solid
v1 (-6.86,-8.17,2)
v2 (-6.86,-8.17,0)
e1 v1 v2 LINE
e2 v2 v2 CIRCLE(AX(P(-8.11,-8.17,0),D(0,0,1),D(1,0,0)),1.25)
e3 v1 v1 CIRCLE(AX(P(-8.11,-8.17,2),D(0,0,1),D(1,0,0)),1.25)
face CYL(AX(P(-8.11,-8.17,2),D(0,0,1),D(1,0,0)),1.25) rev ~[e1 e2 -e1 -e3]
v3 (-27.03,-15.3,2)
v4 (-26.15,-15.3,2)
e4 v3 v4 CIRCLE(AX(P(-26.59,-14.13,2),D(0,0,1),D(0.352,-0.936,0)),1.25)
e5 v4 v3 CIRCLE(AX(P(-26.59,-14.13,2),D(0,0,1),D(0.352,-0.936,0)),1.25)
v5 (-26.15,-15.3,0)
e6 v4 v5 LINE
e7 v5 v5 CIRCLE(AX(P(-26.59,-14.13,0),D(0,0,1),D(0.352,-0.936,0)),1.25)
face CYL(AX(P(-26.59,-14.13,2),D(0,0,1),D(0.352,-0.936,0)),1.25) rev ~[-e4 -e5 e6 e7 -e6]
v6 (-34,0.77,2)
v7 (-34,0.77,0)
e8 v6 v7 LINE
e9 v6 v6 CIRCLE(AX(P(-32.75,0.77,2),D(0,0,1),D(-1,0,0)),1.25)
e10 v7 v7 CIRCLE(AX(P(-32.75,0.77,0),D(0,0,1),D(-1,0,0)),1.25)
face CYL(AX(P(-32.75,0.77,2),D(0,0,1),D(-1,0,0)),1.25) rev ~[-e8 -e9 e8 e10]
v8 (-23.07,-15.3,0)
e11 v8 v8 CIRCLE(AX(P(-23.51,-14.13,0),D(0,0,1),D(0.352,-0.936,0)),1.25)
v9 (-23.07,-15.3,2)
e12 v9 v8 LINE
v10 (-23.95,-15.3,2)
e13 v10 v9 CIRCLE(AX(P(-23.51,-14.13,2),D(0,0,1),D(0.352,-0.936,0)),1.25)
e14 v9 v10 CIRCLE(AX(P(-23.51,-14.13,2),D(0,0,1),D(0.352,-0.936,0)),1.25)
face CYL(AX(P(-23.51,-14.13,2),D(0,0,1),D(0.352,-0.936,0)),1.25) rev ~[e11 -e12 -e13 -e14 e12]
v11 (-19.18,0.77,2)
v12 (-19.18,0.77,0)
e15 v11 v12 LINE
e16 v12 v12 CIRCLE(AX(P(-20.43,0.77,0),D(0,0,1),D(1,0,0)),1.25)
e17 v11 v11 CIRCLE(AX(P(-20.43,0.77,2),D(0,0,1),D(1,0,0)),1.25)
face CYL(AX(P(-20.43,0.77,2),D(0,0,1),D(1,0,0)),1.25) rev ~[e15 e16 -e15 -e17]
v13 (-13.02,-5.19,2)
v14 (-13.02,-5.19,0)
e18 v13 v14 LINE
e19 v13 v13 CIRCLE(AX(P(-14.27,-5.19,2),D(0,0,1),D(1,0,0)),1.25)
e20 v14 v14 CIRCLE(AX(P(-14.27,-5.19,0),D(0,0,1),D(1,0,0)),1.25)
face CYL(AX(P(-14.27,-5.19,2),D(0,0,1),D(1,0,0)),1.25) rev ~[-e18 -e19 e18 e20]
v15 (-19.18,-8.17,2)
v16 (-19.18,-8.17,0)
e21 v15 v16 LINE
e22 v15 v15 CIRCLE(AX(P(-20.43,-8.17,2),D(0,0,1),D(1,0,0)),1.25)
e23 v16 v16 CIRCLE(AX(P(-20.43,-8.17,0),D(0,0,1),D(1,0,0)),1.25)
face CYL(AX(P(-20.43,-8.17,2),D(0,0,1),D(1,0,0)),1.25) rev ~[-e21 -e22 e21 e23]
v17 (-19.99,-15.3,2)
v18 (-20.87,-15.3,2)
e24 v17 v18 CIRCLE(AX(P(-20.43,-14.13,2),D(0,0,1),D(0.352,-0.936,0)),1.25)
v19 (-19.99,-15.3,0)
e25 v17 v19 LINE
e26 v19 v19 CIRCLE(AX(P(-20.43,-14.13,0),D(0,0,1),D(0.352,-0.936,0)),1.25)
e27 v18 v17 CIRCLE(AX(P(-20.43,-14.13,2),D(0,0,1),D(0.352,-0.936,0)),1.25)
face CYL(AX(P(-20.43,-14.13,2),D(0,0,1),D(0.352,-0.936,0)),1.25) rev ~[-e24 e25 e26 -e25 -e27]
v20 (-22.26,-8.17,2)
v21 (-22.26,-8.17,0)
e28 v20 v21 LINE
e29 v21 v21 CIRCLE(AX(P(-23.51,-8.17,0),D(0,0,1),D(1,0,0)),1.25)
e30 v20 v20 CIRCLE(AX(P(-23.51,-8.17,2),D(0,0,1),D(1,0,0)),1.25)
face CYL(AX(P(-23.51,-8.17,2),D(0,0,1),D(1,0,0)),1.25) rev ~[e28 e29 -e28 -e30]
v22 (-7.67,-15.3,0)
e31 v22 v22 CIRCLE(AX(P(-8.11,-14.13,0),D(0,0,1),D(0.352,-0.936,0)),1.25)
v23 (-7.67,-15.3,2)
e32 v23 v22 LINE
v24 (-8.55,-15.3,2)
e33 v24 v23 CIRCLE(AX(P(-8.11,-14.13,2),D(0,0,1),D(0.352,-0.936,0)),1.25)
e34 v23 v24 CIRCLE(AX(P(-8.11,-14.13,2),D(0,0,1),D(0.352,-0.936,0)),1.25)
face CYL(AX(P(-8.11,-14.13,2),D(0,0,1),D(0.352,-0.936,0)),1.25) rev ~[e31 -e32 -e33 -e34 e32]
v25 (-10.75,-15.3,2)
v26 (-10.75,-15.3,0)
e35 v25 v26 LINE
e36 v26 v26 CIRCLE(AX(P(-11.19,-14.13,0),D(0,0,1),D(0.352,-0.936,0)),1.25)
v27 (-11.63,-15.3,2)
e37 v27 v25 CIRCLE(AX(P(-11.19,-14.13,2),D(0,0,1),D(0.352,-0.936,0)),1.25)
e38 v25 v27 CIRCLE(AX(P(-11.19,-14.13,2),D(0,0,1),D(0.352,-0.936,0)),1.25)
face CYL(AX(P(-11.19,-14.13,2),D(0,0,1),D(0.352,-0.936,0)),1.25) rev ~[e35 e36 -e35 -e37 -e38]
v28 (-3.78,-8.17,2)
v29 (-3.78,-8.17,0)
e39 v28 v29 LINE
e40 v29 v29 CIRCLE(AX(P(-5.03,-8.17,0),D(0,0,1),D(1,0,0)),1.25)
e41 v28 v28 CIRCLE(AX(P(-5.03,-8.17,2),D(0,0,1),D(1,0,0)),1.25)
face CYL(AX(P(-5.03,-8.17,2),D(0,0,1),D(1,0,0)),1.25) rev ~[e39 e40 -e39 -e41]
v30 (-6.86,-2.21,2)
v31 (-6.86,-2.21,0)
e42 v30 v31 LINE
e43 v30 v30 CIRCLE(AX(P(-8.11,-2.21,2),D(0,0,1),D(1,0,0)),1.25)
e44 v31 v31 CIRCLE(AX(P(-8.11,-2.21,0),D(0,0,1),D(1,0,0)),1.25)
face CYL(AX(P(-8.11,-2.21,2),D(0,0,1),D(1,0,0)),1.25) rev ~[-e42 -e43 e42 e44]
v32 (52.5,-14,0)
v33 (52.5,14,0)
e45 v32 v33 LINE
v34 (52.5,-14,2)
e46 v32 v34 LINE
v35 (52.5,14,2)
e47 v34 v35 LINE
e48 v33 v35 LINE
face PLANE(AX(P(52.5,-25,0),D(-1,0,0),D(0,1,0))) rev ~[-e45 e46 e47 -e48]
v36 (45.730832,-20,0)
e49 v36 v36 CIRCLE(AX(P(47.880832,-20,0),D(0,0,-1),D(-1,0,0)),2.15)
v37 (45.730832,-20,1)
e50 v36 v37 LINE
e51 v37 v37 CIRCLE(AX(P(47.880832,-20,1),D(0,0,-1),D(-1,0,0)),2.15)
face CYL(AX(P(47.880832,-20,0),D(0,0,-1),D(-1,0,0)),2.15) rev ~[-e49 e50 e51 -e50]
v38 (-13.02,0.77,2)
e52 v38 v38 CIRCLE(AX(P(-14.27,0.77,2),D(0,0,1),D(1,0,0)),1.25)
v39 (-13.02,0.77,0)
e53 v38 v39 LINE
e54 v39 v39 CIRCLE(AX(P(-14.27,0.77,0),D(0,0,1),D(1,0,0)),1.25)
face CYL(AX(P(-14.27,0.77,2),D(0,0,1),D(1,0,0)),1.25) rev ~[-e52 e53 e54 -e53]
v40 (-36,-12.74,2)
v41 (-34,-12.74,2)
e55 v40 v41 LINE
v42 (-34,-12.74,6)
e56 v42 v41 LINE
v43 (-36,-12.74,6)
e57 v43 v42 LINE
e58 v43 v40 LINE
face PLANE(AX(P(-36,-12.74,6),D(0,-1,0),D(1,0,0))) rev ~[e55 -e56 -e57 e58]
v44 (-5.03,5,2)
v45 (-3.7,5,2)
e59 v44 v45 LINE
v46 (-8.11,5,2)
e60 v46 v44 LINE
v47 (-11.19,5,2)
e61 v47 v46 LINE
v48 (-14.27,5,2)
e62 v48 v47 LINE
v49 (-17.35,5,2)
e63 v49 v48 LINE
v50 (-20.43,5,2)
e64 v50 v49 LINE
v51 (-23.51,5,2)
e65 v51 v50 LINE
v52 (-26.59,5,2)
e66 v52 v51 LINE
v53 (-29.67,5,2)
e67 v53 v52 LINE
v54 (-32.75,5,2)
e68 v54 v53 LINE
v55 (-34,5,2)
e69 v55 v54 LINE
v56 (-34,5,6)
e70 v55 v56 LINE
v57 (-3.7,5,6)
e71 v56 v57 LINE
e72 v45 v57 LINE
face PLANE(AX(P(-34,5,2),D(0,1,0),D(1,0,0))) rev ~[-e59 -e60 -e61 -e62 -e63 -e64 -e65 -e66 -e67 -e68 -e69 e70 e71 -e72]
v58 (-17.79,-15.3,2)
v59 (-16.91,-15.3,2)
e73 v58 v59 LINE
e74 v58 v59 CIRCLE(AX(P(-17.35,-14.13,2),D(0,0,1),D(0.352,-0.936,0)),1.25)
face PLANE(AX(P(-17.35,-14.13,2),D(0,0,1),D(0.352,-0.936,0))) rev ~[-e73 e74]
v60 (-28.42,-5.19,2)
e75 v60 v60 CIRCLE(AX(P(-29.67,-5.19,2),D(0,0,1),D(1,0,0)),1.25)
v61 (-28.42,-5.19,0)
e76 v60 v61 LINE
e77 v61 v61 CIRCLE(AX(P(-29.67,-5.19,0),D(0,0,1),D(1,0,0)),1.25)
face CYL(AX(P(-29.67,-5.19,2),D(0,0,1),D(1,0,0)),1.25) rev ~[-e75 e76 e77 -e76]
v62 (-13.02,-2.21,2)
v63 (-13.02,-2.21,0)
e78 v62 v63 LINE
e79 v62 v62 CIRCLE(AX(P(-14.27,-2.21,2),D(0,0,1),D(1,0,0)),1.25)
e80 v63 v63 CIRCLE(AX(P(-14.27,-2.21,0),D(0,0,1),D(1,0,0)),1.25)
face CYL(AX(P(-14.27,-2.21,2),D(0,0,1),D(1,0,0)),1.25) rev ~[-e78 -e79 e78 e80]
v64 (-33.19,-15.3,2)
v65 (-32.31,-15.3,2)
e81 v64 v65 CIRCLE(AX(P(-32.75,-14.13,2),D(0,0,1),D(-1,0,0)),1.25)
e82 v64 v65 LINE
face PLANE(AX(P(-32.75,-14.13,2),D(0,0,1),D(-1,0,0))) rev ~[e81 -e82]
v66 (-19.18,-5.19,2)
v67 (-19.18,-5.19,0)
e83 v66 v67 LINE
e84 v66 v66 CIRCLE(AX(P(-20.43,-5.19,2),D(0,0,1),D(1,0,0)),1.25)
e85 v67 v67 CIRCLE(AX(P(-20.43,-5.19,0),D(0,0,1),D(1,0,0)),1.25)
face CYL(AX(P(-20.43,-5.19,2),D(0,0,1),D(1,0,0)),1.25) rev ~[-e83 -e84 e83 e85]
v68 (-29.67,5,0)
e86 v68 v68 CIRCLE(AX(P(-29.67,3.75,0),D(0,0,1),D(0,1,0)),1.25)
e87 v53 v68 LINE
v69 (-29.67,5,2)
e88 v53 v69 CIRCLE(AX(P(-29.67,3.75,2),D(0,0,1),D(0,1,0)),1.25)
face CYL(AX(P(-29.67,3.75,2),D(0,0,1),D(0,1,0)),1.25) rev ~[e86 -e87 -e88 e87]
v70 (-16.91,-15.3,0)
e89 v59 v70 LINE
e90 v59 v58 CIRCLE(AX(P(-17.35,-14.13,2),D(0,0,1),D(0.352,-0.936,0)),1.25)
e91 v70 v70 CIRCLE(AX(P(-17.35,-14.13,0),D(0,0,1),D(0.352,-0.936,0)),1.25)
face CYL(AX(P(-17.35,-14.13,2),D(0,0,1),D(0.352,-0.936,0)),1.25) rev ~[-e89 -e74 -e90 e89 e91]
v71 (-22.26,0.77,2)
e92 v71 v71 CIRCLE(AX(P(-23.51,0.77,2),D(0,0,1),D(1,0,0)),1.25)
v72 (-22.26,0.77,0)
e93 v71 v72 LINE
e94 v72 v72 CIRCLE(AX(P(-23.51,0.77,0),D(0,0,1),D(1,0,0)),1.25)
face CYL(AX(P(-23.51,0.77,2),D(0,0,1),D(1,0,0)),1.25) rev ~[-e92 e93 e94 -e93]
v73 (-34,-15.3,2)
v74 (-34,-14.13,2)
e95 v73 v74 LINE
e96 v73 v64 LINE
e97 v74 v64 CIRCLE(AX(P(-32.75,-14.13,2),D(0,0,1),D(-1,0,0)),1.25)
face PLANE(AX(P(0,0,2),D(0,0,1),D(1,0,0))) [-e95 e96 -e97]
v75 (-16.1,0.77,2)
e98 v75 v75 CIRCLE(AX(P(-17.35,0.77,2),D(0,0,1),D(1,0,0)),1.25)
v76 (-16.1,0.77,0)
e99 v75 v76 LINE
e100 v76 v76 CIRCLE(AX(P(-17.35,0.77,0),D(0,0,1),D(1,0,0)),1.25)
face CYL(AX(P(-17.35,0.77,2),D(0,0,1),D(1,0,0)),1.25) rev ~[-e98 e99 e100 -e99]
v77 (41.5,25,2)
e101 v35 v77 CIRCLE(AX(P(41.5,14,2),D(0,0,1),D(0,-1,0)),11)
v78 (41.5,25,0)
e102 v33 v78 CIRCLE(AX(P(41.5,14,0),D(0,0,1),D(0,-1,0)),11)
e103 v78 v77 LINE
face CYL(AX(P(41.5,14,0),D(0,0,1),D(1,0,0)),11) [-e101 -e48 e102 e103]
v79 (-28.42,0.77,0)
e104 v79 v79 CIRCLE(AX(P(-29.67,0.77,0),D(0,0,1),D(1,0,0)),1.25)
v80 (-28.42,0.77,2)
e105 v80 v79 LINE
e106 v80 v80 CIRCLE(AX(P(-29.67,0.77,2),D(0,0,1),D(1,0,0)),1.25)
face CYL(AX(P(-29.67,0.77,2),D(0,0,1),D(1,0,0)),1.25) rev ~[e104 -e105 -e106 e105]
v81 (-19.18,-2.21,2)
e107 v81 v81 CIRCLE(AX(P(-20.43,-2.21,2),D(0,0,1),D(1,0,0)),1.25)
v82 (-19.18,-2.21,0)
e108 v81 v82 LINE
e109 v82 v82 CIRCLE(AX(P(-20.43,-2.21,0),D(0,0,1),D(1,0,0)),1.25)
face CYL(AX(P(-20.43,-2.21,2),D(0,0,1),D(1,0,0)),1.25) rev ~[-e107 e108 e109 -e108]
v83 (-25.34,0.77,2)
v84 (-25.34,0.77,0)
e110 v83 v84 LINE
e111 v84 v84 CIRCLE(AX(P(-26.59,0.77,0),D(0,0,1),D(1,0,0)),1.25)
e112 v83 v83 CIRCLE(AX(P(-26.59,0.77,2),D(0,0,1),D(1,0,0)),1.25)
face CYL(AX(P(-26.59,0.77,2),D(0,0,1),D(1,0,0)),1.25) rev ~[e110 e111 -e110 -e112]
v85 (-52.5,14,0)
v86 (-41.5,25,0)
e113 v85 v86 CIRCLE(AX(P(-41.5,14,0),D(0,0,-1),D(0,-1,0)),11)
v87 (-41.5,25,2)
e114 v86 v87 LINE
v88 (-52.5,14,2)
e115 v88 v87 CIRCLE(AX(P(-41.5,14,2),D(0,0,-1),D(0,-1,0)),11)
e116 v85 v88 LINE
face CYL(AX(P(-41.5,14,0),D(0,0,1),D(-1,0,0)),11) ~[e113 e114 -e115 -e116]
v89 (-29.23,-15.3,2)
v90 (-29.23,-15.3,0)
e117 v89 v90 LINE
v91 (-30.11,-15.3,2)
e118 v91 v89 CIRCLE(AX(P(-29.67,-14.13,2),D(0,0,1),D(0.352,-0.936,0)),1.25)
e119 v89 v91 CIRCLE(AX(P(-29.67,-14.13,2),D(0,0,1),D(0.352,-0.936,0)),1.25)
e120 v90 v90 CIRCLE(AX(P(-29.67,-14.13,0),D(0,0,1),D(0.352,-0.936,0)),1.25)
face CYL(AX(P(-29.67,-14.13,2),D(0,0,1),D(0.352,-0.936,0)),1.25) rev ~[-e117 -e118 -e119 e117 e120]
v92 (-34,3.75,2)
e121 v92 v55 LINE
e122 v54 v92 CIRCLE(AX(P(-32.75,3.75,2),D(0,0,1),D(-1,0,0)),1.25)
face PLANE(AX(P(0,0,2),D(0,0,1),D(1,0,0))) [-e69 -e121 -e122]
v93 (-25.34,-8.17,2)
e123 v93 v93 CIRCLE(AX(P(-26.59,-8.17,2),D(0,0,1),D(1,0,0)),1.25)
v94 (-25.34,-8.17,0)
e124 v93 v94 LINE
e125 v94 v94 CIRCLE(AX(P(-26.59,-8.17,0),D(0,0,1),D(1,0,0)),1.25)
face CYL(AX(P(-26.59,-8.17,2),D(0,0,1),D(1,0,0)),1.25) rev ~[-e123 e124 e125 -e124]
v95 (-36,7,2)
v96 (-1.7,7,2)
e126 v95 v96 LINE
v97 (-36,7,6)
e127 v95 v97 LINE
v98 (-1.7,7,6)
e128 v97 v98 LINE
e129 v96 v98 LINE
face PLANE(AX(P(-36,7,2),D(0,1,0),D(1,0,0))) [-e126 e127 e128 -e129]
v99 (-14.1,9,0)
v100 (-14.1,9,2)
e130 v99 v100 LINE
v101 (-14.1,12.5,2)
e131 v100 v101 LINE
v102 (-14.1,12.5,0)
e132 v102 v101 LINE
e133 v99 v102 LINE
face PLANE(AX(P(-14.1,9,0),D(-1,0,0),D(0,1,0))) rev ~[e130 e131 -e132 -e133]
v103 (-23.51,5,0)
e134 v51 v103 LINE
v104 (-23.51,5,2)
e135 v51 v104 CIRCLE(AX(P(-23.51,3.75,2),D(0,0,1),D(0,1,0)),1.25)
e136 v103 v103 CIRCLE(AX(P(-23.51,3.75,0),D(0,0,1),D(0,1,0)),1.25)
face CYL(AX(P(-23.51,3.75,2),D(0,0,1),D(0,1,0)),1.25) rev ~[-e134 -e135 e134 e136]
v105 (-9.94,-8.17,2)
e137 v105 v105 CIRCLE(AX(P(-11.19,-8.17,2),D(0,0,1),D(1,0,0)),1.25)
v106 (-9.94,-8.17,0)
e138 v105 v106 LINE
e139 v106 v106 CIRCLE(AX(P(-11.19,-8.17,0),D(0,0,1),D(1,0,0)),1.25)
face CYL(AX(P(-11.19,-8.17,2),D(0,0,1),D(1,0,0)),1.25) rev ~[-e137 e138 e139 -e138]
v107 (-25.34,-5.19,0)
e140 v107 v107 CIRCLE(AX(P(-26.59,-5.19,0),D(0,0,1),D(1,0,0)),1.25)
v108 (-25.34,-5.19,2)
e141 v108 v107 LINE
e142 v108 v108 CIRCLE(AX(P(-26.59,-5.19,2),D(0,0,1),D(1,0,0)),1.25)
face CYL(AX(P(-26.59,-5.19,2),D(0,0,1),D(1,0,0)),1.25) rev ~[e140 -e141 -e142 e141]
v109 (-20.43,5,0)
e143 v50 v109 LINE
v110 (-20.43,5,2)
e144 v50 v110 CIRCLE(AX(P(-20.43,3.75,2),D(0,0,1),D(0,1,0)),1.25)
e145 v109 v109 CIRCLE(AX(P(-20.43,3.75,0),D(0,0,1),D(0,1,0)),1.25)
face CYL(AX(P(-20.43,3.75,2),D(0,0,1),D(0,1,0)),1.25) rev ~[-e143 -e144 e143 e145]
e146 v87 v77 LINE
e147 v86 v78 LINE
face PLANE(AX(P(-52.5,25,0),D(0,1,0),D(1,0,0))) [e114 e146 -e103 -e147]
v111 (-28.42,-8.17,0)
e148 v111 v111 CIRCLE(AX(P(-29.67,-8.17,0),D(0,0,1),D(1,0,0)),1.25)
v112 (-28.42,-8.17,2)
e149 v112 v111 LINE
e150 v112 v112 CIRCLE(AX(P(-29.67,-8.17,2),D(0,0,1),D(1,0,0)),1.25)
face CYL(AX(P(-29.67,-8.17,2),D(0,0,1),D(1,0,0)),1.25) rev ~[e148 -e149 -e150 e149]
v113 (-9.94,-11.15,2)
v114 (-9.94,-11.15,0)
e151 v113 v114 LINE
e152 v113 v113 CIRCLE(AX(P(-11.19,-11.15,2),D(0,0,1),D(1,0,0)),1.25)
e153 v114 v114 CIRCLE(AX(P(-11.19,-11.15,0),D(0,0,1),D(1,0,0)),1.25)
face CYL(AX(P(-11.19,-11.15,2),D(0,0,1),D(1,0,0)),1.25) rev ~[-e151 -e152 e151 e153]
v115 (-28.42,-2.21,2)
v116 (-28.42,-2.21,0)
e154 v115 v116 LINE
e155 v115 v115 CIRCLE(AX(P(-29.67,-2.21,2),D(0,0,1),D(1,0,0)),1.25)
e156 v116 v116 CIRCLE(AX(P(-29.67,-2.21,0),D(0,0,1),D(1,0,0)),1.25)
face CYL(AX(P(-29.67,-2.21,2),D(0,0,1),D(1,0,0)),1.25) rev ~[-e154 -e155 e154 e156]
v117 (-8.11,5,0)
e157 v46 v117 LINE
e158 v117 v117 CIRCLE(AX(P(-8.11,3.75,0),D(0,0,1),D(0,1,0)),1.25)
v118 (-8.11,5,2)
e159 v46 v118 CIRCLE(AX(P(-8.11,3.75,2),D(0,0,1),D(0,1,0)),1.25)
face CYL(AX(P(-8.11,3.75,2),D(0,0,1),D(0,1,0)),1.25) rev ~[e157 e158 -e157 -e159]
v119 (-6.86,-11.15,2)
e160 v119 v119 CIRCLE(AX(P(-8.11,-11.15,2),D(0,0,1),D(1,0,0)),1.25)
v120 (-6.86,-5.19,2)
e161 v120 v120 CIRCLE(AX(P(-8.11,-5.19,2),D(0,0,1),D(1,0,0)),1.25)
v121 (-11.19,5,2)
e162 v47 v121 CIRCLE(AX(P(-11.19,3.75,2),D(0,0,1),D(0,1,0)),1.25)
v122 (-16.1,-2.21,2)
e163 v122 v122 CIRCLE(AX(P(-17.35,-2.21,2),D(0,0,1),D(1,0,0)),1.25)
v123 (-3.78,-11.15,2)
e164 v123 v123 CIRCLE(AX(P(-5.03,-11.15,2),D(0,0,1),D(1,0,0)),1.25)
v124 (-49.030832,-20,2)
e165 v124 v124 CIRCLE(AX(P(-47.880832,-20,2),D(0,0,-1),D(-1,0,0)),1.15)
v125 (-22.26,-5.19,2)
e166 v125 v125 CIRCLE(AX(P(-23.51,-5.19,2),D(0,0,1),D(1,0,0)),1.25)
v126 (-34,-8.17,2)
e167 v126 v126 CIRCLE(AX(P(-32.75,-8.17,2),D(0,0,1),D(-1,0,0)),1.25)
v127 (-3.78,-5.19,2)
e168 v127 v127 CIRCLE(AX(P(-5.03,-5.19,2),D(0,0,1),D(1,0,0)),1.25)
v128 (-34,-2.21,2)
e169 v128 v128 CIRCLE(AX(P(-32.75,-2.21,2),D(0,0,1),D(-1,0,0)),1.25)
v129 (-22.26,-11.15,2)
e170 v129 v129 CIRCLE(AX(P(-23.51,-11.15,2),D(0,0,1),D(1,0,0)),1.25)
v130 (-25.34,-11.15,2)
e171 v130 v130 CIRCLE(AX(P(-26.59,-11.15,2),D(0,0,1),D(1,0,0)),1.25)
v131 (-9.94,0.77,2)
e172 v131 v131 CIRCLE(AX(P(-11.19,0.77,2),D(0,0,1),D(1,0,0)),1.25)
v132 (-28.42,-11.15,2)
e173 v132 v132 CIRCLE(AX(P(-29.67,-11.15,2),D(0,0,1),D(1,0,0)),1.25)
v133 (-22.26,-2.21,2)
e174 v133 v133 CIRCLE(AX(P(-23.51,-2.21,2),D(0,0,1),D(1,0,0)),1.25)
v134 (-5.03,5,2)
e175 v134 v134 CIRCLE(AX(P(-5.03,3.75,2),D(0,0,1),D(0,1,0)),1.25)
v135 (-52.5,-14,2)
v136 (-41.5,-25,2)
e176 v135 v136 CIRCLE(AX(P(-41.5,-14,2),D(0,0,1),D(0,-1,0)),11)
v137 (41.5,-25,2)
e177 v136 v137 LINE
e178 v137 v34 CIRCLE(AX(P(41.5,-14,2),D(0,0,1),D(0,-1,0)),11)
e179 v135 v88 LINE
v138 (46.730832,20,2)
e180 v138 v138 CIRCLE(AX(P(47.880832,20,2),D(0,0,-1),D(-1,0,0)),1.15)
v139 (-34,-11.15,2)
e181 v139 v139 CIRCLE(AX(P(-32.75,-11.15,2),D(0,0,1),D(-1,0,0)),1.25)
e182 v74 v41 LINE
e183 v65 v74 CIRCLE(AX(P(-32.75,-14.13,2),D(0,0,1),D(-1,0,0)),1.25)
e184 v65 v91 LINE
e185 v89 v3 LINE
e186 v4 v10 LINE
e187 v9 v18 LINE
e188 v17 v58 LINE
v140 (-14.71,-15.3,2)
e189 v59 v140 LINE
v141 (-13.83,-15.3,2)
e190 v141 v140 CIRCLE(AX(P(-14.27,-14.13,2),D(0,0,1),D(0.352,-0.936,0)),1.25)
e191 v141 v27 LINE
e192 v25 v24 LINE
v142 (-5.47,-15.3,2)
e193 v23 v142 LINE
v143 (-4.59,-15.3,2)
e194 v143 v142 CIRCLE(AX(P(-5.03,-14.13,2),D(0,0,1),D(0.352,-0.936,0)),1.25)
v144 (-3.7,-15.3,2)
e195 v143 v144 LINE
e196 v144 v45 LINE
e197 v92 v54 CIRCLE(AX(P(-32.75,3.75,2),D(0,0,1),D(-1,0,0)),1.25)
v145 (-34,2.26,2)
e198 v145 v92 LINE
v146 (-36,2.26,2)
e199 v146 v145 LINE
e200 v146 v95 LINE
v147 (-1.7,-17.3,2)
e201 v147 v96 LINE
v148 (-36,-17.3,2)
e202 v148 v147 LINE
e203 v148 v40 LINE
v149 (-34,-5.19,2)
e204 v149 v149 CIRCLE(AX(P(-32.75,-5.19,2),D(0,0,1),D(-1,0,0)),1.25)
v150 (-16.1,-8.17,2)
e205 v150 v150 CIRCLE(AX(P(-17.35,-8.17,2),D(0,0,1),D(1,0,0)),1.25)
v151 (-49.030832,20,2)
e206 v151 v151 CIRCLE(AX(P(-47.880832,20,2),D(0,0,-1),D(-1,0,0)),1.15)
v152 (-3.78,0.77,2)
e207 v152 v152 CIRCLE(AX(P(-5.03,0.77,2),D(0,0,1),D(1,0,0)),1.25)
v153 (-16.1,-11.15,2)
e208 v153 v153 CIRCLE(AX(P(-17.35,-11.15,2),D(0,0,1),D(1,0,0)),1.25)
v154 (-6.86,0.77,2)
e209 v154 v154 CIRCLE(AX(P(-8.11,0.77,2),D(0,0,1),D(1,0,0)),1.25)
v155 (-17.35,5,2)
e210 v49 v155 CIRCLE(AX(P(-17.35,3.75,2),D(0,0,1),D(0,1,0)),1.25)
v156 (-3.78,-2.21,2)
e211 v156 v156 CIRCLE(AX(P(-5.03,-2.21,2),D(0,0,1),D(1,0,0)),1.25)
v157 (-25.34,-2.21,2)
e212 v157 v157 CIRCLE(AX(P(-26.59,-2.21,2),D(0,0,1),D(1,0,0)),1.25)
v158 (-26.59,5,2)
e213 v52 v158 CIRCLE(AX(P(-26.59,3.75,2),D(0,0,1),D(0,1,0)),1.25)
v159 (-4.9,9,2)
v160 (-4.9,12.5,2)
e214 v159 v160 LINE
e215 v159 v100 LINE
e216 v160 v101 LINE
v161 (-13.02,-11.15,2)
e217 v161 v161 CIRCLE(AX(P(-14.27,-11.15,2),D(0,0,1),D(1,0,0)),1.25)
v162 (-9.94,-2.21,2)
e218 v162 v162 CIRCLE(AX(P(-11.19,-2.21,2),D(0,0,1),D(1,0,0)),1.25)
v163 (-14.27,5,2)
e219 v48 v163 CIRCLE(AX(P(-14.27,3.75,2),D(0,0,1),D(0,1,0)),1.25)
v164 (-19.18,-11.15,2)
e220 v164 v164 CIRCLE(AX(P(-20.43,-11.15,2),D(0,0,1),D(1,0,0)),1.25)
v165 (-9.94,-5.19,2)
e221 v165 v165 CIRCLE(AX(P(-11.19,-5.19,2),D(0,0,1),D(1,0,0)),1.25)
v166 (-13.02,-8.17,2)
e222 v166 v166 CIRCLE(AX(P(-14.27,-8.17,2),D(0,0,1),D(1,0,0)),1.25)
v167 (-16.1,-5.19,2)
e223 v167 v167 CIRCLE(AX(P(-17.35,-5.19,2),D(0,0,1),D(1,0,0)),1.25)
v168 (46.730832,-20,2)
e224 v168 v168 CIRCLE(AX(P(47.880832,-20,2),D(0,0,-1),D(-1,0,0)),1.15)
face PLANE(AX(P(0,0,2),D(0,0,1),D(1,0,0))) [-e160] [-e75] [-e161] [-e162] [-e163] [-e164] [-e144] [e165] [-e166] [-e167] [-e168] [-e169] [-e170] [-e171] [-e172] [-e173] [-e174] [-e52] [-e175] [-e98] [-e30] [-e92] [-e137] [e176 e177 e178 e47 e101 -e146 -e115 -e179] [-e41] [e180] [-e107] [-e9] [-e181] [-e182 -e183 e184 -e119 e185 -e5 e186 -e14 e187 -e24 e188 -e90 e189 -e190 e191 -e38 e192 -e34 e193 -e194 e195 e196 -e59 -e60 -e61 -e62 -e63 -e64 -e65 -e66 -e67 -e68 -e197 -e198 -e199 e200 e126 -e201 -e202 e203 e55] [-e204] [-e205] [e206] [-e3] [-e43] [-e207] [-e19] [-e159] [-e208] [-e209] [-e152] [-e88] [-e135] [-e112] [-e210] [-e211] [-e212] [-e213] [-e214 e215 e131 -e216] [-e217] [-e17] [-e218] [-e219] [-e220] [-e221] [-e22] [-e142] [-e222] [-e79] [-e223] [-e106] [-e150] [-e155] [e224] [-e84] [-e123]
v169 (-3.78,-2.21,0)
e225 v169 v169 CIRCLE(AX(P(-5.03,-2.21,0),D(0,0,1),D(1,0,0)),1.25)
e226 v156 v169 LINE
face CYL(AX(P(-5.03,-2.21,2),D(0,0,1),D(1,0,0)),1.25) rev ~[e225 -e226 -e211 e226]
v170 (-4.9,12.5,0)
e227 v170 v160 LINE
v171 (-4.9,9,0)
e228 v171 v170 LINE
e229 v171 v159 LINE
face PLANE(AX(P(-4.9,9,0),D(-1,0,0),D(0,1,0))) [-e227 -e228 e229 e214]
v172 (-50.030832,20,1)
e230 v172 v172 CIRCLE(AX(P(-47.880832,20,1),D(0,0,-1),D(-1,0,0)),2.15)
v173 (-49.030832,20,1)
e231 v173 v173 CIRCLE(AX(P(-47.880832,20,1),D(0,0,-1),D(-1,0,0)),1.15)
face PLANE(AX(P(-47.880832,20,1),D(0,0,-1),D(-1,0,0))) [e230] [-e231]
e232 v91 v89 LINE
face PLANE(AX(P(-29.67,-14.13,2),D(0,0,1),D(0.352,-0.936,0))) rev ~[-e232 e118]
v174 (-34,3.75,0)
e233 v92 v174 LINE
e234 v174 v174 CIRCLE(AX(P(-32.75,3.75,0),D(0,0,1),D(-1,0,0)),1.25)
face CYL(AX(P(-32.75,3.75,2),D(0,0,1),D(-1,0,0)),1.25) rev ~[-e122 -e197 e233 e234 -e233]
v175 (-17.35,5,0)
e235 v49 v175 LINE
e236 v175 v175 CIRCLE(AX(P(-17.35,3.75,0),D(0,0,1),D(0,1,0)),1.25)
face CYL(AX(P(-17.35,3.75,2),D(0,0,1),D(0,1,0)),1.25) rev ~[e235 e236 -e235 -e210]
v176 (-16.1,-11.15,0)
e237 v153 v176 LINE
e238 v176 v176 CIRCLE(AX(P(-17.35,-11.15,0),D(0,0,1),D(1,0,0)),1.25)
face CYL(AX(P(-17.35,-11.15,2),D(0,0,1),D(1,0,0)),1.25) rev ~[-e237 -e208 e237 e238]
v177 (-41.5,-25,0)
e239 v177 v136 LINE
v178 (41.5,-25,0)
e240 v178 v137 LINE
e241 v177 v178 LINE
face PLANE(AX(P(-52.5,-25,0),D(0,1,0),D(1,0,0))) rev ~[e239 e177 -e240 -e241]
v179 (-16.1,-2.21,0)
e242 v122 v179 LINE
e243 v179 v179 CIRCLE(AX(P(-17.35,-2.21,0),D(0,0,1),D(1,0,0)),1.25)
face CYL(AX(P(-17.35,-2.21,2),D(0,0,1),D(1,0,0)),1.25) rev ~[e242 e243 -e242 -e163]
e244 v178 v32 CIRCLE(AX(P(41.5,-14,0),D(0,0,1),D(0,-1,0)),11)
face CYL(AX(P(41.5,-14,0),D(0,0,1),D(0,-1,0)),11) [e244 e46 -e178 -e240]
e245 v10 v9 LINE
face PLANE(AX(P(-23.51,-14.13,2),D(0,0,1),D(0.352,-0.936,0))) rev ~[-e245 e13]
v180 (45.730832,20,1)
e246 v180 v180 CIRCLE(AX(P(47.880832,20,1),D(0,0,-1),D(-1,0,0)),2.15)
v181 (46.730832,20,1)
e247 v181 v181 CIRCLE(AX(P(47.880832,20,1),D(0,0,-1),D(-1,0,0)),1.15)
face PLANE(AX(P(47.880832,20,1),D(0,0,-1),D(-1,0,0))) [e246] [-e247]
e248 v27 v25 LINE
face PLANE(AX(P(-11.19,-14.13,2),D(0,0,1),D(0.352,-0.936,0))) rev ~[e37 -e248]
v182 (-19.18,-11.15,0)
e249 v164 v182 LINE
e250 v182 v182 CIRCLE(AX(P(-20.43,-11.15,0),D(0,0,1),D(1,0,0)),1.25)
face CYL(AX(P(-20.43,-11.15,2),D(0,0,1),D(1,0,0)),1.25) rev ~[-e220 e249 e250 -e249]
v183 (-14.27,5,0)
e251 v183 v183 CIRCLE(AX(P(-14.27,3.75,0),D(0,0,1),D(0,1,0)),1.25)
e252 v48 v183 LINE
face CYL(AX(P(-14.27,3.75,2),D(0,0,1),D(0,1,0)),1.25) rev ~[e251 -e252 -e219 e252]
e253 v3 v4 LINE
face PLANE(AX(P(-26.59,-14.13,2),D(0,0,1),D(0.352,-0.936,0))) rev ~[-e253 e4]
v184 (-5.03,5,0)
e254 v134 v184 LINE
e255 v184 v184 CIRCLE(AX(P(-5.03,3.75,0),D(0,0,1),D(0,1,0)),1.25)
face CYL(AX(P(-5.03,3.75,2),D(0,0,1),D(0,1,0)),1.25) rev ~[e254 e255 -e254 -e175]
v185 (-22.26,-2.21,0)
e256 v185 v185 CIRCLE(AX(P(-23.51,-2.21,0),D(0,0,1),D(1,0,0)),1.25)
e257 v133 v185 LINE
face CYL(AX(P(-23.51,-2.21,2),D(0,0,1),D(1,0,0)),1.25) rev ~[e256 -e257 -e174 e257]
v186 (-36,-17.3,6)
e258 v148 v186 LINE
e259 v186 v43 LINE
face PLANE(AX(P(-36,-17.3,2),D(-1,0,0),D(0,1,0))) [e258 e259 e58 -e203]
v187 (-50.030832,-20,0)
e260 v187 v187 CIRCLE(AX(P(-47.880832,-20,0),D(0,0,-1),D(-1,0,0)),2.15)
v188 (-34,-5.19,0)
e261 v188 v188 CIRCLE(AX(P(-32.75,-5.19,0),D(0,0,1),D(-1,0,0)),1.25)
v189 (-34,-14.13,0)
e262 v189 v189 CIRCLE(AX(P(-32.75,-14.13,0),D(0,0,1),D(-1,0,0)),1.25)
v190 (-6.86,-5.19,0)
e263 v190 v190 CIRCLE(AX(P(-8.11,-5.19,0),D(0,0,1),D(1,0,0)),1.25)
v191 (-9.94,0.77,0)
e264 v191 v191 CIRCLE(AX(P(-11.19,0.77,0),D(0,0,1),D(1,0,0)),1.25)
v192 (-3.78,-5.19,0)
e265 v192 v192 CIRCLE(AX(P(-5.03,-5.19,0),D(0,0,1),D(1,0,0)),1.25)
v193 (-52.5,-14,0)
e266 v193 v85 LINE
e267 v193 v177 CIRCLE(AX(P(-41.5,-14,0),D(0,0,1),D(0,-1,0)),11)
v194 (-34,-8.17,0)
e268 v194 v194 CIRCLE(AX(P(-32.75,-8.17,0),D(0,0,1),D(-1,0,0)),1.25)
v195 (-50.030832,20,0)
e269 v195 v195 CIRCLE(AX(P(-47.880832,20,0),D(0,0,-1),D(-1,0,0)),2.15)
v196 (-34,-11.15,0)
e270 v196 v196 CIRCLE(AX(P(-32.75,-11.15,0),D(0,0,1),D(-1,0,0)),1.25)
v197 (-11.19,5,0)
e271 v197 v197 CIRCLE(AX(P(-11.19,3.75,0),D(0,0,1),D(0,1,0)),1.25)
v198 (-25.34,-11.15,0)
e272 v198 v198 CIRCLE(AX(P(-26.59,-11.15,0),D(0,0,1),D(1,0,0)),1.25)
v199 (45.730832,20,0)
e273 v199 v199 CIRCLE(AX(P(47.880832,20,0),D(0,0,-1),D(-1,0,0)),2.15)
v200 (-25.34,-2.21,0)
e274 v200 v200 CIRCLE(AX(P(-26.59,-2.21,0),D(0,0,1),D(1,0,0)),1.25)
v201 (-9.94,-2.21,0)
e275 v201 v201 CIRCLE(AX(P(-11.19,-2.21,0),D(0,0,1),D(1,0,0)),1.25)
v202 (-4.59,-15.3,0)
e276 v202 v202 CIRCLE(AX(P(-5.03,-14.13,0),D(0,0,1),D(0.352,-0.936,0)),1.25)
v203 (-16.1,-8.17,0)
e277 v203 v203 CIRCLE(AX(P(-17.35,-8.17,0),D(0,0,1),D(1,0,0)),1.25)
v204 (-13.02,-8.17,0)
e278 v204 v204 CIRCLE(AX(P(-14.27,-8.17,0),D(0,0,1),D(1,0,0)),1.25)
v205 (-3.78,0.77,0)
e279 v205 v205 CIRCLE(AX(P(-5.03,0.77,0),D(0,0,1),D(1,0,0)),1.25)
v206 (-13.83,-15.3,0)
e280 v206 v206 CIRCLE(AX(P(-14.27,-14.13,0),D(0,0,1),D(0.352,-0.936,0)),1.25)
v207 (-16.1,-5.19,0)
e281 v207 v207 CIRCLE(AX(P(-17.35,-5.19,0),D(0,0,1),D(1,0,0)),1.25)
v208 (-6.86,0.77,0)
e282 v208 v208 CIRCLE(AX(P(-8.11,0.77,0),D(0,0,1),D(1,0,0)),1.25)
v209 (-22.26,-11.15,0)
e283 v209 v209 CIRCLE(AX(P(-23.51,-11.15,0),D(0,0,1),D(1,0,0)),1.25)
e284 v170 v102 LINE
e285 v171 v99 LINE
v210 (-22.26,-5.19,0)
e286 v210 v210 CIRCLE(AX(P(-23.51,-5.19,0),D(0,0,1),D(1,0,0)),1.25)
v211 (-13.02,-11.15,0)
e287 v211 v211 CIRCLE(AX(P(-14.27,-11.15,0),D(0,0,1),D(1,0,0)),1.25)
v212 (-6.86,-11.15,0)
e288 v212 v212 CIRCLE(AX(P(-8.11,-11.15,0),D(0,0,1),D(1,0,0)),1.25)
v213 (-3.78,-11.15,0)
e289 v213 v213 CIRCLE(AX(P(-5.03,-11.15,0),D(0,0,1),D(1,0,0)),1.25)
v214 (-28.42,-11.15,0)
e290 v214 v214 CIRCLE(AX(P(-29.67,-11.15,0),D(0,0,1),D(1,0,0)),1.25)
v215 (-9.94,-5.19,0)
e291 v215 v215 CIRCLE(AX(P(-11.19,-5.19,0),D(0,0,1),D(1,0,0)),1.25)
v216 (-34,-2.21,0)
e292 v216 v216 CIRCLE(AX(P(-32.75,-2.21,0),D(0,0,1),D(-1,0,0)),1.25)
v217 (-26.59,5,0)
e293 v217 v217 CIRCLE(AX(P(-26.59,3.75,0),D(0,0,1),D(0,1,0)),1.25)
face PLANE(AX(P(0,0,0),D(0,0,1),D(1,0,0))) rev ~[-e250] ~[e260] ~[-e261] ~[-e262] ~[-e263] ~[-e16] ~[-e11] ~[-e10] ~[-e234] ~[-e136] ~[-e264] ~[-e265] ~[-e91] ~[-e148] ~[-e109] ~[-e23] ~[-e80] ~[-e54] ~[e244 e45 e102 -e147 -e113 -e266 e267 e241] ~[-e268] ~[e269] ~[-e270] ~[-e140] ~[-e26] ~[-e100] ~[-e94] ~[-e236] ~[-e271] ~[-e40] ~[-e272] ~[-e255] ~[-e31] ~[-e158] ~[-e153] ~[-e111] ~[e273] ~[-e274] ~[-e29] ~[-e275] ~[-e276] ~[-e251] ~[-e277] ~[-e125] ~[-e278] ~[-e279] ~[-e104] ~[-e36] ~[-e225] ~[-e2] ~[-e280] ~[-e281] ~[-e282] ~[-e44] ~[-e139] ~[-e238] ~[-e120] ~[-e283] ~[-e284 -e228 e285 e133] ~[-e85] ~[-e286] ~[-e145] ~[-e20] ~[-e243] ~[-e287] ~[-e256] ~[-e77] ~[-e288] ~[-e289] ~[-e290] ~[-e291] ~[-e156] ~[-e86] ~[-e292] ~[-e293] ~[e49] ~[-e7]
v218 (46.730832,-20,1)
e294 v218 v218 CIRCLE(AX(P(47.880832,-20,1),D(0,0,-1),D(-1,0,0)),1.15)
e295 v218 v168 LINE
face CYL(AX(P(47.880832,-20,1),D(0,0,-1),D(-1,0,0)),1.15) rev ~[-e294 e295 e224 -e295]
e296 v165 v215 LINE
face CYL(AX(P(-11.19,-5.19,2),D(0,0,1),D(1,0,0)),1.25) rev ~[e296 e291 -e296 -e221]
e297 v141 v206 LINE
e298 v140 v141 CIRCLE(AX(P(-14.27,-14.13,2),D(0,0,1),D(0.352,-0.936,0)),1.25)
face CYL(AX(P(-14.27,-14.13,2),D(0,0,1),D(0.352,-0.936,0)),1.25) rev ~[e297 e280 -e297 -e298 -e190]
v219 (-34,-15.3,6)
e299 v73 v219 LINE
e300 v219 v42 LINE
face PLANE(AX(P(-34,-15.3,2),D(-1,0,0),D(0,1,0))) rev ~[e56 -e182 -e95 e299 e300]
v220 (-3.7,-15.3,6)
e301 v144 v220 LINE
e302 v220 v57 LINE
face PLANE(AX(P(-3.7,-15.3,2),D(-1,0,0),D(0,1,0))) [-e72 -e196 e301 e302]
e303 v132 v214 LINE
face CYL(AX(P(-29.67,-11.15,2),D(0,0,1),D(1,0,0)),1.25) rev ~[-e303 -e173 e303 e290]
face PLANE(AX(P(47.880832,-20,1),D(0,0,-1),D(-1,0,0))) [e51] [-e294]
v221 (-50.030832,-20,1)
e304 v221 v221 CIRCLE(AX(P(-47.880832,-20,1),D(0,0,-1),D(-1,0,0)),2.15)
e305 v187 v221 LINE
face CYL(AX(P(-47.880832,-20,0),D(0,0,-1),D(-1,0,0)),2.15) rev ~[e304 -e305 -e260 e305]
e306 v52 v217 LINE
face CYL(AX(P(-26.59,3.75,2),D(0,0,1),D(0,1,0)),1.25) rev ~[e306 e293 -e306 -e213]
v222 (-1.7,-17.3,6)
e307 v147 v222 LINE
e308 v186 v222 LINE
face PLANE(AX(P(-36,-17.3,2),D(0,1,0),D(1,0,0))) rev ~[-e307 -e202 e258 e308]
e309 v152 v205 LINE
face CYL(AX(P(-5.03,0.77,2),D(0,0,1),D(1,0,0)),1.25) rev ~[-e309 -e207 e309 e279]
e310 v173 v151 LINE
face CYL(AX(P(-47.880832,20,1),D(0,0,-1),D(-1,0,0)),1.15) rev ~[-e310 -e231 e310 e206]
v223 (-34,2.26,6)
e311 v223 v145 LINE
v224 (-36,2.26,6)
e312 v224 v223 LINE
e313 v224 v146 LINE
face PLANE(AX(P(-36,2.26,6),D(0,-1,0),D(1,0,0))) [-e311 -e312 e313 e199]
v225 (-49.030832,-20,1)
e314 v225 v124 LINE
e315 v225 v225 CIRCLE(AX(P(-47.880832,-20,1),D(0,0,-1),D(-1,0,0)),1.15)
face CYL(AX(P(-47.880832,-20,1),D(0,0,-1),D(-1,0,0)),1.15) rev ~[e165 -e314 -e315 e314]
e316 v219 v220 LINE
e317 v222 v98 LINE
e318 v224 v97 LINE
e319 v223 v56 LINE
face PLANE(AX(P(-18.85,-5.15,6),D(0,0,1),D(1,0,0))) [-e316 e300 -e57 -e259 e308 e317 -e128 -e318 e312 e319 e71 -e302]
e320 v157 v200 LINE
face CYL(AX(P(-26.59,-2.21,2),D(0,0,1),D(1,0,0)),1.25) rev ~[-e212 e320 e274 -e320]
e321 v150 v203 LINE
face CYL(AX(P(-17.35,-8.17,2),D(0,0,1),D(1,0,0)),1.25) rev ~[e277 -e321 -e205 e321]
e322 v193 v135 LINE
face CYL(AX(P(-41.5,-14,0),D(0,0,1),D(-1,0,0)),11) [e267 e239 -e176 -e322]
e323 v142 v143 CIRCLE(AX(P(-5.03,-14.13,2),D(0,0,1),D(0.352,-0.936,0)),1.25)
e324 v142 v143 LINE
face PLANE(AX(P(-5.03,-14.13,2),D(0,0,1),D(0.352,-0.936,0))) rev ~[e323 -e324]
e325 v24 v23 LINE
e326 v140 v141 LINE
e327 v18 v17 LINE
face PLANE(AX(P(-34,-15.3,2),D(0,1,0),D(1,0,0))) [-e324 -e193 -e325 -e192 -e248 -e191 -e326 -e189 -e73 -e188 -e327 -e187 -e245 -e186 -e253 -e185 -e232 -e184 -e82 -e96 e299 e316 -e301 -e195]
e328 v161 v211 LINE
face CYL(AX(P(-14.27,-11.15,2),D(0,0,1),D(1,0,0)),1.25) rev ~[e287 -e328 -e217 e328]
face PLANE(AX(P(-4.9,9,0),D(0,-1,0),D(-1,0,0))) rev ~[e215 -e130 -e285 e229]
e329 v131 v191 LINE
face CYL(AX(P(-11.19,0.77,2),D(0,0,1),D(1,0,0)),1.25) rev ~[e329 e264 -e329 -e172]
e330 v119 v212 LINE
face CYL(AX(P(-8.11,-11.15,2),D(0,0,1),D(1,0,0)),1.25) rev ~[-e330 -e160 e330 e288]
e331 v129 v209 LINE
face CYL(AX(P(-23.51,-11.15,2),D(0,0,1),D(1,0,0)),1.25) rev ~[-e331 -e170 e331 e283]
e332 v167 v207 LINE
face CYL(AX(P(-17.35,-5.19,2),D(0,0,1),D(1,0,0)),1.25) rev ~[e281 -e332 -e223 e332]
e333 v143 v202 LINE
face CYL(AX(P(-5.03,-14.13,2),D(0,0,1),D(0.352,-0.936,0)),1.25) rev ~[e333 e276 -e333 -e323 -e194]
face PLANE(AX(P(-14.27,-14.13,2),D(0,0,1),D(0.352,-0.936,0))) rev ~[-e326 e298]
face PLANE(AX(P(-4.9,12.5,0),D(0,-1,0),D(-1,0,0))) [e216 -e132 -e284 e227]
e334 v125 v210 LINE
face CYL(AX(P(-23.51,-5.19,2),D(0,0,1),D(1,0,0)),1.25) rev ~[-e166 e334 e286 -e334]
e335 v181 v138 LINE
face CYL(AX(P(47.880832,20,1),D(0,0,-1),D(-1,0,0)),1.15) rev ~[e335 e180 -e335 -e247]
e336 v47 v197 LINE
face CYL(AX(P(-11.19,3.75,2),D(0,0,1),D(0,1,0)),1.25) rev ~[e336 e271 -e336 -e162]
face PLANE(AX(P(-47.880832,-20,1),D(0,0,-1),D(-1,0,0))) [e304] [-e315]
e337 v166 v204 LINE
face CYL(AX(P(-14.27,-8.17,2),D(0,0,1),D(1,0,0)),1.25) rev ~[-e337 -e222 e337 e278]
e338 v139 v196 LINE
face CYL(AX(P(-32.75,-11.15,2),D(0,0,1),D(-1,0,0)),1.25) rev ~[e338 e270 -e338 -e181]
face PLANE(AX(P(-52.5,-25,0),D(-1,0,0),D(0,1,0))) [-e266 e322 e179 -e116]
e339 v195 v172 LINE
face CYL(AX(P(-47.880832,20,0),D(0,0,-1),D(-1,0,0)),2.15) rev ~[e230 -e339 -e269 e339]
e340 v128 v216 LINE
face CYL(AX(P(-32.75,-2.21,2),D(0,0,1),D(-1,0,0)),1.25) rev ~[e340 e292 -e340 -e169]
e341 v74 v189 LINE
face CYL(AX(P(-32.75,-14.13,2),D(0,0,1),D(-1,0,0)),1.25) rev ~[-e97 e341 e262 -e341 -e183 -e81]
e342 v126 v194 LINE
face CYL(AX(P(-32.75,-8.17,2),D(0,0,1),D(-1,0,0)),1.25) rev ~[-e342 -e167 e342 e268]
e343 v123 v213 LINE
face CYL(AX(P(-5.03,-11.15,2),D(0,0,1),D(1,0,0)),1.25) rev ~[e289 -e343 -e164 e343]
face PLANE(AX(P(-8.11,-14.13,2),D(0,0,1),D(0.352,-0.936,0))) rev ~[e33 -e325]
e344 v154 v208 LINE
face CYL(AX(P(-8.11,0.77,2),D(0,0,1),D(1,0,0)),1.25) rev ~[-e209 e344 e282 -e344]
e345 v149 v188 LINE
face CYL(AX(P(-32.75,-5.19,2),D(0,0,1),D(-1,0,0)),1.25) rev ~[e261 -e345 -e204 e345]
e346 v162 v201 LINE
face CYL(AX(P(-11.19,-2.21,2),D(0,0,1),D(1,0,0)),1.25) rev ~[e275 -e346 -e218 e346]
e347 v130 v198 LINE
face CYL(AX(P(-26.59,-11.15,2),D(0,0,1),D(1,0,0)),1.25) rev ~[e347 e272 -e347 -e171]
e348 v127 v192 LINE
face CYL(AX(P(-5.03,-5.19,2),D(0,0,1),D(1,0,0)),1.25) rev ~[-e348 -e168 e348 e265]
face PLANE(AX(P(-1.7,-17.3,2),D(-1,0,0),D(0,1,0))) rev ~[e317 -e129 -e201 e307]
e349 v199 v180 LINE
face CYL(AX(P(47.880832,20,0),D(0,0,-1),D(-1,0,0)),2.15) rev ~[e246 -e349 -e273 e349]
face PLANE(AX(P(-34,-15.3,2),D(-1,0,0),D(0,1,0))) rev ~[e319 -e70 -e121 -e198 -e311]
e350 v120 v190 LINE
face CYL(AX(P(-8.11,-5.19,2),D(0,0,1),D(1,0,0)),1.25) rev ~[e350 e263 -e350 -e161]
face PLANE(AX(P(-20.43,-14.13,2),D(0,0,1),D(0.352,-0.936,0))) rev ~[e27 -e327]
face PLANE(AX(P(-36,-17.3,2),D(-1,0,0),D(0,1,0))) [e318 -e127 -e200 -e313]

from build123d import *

# Parameters (mm, degrees)
SKETCH_1_W          = 105
SKETCH_1_H          = 50
EXTRUDE_1_DEPTH     = 2
FILLET_1_R          = 11
SKETCH_3_R          = 2.15
CUT_EXTRUDE_1_DEPTH = 1
CUT_EXTRUDE_2_REACH = 60.157
SKETCH_4_R          = 1.15
CUT_EXTRUDE_3_REACH = 60.183
SKETCH_5_W          = 9.2
SKETCH_5_H          = 3.5
SKETCH_6_W          = 34.3
SKETCH_6_H          = 24.3
SKETCH_6_W_2        = 30.3
SKETCH_6_H_2        = 20.3
EXTRUDE_1_2_DEPTH   = 4
SKETCH_7_R          = 1.25
CUT_EXTRUDE_4_DEPTH = 2
SKETCH_8_W          = 2
SKETCH_8_H          = 15
CUT_EXTRUDE_5_DEPTH = 4


with BuildPart() as part:
    # 草图1 → Extrude 1 (new body)
    with BuildSketch(Plane.XY):
        Rectangle(SKETCH_1_W, SKETCH_1_H)
    extrude(amount=EXTRUDE_1_DEPTH)

    # 圆角1
    fillet_1_edges = [part.edges().sort_by_distance(p)[0] for p in [
        (52.5, -25, 1),
        (-52.5, -25, 1),
        (-52.5, 25, 1),
        (52.5, 25, 1),
    ]]
    fillet(fillet_1_edges, radius=FILLET_1_R)

    # 草图3 → 切除-拉伸1 (cut)
    with BuildSketch(Plane(origin=(0, 0, 0), x_dir=(-1, 0, 0), z_dir=(0, 0, -1))):
        with Locations((47.88083152, -20)):
            Circle(SKETCH_3_R)
        with Locations((47.88083152, 20)):
            Circle(SKETCH_3_R)
        with Locations((-47.88083152, 20)):
            Circle(SKETCH_3_R)
        with Locations((-47.88083152, -20)):
            Circle(SKETCH_3_R)
    extrude(amount=-CUT_EXTRUDE_1_DEPTH, mode=Mode.SUBTRACT)

    # 草图4 → 切除-拉伸2 (cut, up to next)
    with BuildSketch(Plane(origin=(0, 0, 1), x_dir=(-1, 0, 0), z_dir=(0, 0, -1)), mode=Mode.PRIVATE) as cut_extrude_2_sk1:
        with Locations((47.88083152, -20)):
            Circle(SKETCH_4_R)
    cut_extrude_2_tool1 = extrude(cut_extrude_2_sk1.sketch, amount=-CUT_EXTRUDE_2_REACH, mode=Mode.PRIVATE) & part.part
    # 草图4 → 切除-拉伸2 (cut, up to next)
    with BuildSketch(Plane(origin=(0, 0, 1), x_dir=(-1, 0, 0), z_dir=(0, 0, -1)), mode=Mode.PRIVATE) as cut_extrude_2_sk2:
        with Locations((-47.88083152, -20)):
            Circle(SKETCH_4_R)
    cut_extrude_2_tool2 = extrude(cut_extrude_2_sk2.sketch, amount=-CUT_EXTRUDE_2_REACH, mode=Mode.PRIVATE) & part.part
    # 草图4 → 切除-拉伸2 (cut, up to next)
    with BuildSketch(Plane(origin=(0, 0, 1), x_dir=(-1, 0, 0), z_dir=(0, 0, -1)), mode=Mode.PRIVATE) as cut_extrude_2_sk3:
        with Locations((47.88083152, 20)):
            Circle(SKETCH_4_R)
    cut_extrude_2_tool3 = extrude(cut_extrude_2_sk3.sketch, amount=-CUT_EXTRUDE_2_REACH, mode=Mode.PRIVATE) & part.part
    # 草图4 → 切除-拉伸2 (cut, up to next)
    with BuildSketch(Plane(origin=(0, 0, 1), x_dir=(-1, 0, 0), z_dir=(0, 0, -1)), mode=Mode.PRIVATE) as cut_extrude_2_sk4:
        with Locations((-47.88083152, 20)):
            Circle(SKETCH_4_R)
    cut_extrude_2_tool4 = extrude(cut_extrude_2_sk4.sketch, amount=-CUT_EXTRUDE_2_REACH, mode=Mode.PRIVATE) & part.part
    add(cut_extrude_2_tool1.solids().sort_by_distance((-47.880832, -20, 1))[0], mode=Mode.SUBTRACT)
    add(cut_extrude_2_tool2.solids().sort_by_distance((47.880832, -20, 1))[0], mode=Mode.SUBTRACT)
    add(cut_extrude_2_tool3.solids().sort_by_distance((-47.880832, 20, 1))[0], mode=Mode.SUBTRACT)
    add(cut_extrude_2_tool4.solids().sort_by_distance((47.880832, 20, 1))[0], mode=Mode.SUBTRACT)

    # 草图5 → 切除-拉伸3 (cut, up to next)
    with BuildSketch(Plane(origin=(0, 0, 0), x_dir=(-1, 0, 0), z_dir=(0, 0, -1)), mode=Mode.PRIVATE) as cut_extrude_3_sk1:
        with Locations((9.5, 10.75)):
            Rectangle(SKETCH_5_W, SKETCH_5_H)
    cut_extrude_3_tool1 = extrude(cut_extrude_3_sk1.sketch, amount=-CUT_EXTRUDE_3_REACH, mode=Mode.PRIVATE) & part.part
    add(cut_extrude_3_tool1.solids().sort_by_distance((-9.5, 10.75, 0))[0], mode=Mode.SUBTRACT)

    # 草图6 → Extrude 1 2 (add)
    with BuildSketch(Plane.XY.offset(2)):
        with Locations((-18.85, -5.15)):
            Rectangle(SKETCH_6_W, SKETCH_6_H)
        with Locations((-18.85, -5.15)):
            Rectangle(SKETCH_6_W_2, SKETCH_6_H_2, mode=Mode.SUBTRACT)
    extrude(amount=EXTRUDE_1_2_DEPTH)

    # 草图7 → 切除-拉伸4 (cut)
    with BuildSketch(Plane.XY.offset(2)):
        with Locations(Location((-32.75, 3.75, 0), (0, 0, 180))):
            Circle(SKETCH_7_R)
        with Locations(Location((-29.67, 3.75, 0), (0, 0, 90))):
            Circle(SKETCH_7_R)
        with Locations(Location((-26.59, 3.75, 0), (0, 0, 90))):
            Circle(SKETCH_7_R)
        with Locations(Location((-23.51, 3.75, 0), (0, 0, 90))):
            Circle(SKETCH_7_R)
        with Locations(Location((-20.43, 3.75, 0), (0, 0, 90))):
            Circle(SKETCH_7_R)
        with Locations(Location((-17.35, 3.75, 0), (0, 0, 90))):
            Circle(SKETCH_7_R)
        with Locations(Location((-14.27, 3.75, 0), (0, 0, 90))):
            Circle(SKETCH_7_R)
        with Locations(Location((-11.19, 3.75, 0), (0, 0, 90))):
            Circle(SKETCH_7_R)
        with Locations(Location((-8.11, 3.75, 0), (0, 0, 90))):
            Circle(SKETCH_7_R)
        with Locations(Location((-5.03, 3.75, 0), (0, 0, 90))):
            Circle(SKETCH_7_R)
        with Locations((-29.67, 0.77)):
            Circle(SKETCH_7_R)
        with Locations((-26.59, 0.77)):
            Circle(SKETCH_7_R)
        with Locations((-23.51, 0.77)):
            Circle(SKETCH_7_R)
        with Locations((-20.43, 0.77)):
            Circle(SKETCH_7_R)
        with Locations((-17.35, 0.77)):
            Circle(SKETCH_7_R)
        with Locations((-14.27, 0.77)):
            Circle(SKETCH_7_R)
        with Locations((-11.19, 0.77)):
            Circle(SKETCH_7_R)
        with Locations((-8.11, 0.77)):
            Circle(SKETCH_7_R)
        with Locations((-5.03, 0.77)):
            Circle(SKETCH_7_R)
        with Locations((-29.67, -2.21)):
            Circle(SKETCH_7_R)
        with Locations((-26.59, -2.21)):
            Circle(SKETCH_7_R)
        with Locations((-23.51, -2.21)):
            Circle(SKETCH_7_R)
        with Locations((-20.43, -2.21)):
            Circle(SKETCH_7_R)
        with Locations((-17.35, -2.21)):
            Circle(SKETCH_7_R)
        with Locations((-14.27, -2.21)):
            Circle(SKETCH_7_R)
        with Locations((-11.19, -2.21)):
            Circle(SKETCH_7_R)
        with Locations((-8.11, -2.21)):
            Circle(SKETCH_7_R)
        with Locations((-5.03, -2.21)):
            Circle(SKETCH_7_R)
        with Locations((-29.67, -5.19)):
            Circle(SKETCH_7_R)
        with Locations((-26.59, -5.19)):
            Circle(SKETCH_7_R)
        with Locations((-23.51, -5.19)):
            Circle(SKETCH_7_R)
        with Locations((-20.43, -5.19)):
            Circle(SKETCH_7_R)
        with Locations((-17.35, -5.19)):
            Circle(SKETCH_7_R)
        with Locations((-14.27, -5.19)):
            Circle(SKETCH_7_R)
        with Locations((-11.19, -5.19)):
            Circle(SKETCH_7_R)
        with Locations((-8.11, -5.19)):
            Circle(SKETCH_7_R)
        with Locations((-5.03, -5.19)):
            Circle(SKETCH_7_R)
        with Locations((-29.67, -8.17)):
            Circle(SKETCH_7_R)
        with Locations((-26.59, -8.17)):
            Circle(SKETCH_7_R)
        with Locations((-23.51, -8.17)):
            Circle(SKETCH_7_R)
        with Locations((-20.43, -8.17)):
            Circle(SKETCH_7_R)
        with Locations((-17.35, -8.17)):
            Circle(SKETCH_7_R)
        with Locations((-14.27, -8.17)):
            Circle(SKETCH_7_R)
        with Locations((-11.19, -8.17)):
            Circle(SKETCH_7_R)
        with Locations((-8.11, -8.17)):
            Circle(SKETCH_7_R)
        with Locations((-5.03, -8.17)):
            Circle(SKETCH_7_R)
        with Locations((-29.67, -11.15)):
            Circle(SKETCH_7_R)
        with Locations((-26.59, -11.15)):
            Circle(SKETCH_7_R)
        with Locations((-23.51, -11.15)):
            Circle(SKETCH_7_R)
        with Locations((-20.43, -11.15)):
            Circle(SKETCH_7_R)
        with Locations((-17.35, -11.15)):
            Circle(SKETCH_7_R)
        with Locations((-14.27, -11.15)):
            Circle(SKETCH_7_R)
        with Locations((-11.19, -11.15)):
            Circle(SKETCH_7_R)
        with Locations((-8.11, -11.15)):
            Circle(SKETCH_7_R)
        with Locations((-5.03, -11.15)):
            Circle(SKETCH_7_R)
        with Locations(Location((-29.67, -14.13, 0), (0, 0, 290.609692938))):
            Circle(SKETCH_7_R)
        with Locations(Location((-26.59, -14.13, 0), (0, 0, 290.609692938))):
            Circle(SKETCH_7_R)
        with Locations(Location((-23.51, -14.13, 0), (0, 0, 290.609692938))):
            Circle(SKETCH_7_R)
        with Locations(Location((-20.43, -14.13, 0), (0, 0, 290.609692938))):
            Circle(SKETCH_7_R)
        with Locations(Location((-17.35, -14.13, 0), (0, 0, 290.609692938))):
            Circle(SKETCH_7_R)
        with Locations(Location((-14.27, -14.13, 0), (0, 0, 290.609692938))):
            Circle(SKETCH_7_R)
        with Locations(Location((-11.19, -14.13, 0), (0, 0, 290.609692938))):
            Circle(SKETCH_7_R)
        with Locations(Location((-8.11, -14.13, 0), (0, 0, 290.609692938))):
            Circle(SKETCH_7_R)
        with Locations(Location((-5.03, -14.13, 0), (0, 0, 290.609692938))):
            Circle(SKETCH_7_R)
        with Locations(Location((-32.75, 0.77, 0), (0, 0, 180))):
            Circle(SKETCH_7_R)
        with Locations(Location((-32.75, -2.21, 0), (0, 0, 180))):
            Circle(SKETCH_7_R)
        with Locations(Location((-32.75, -5.19, 0), (0, 0, 180))):
            Circle(SKETCH_7_R)
        with Locations(Location((-32.75, -8.17, 0), (0, 0, 180))):
            Circle(SKETCH_7_R)
        with Locations(Location((-32.75, -11.15, 0), (0, 0, 180))):
            Circle(SKETCH_7_R)
        with Locations(Location((-32.75, -14.13, 0), (0, 0, 180))):
            Circle(SKETCH_7_R)
    extrude(amount=-CUT_EXTRUDE_4_DEPTH, mode=Mode.SUBTRACT)

    # 草图8 → 切除-拉伸5 (cut)
    with BuildSketch(Plane.XY.offset(6)):
        with Locations((-35, -5.24)):
            Rectangle(SKETCH_8_W, SKETCH_8_H)
    extrude(amount=-CUT_EXTRUDE_5_DEPTH, mode=Mode.SUBTRACT)


solid = part.part
